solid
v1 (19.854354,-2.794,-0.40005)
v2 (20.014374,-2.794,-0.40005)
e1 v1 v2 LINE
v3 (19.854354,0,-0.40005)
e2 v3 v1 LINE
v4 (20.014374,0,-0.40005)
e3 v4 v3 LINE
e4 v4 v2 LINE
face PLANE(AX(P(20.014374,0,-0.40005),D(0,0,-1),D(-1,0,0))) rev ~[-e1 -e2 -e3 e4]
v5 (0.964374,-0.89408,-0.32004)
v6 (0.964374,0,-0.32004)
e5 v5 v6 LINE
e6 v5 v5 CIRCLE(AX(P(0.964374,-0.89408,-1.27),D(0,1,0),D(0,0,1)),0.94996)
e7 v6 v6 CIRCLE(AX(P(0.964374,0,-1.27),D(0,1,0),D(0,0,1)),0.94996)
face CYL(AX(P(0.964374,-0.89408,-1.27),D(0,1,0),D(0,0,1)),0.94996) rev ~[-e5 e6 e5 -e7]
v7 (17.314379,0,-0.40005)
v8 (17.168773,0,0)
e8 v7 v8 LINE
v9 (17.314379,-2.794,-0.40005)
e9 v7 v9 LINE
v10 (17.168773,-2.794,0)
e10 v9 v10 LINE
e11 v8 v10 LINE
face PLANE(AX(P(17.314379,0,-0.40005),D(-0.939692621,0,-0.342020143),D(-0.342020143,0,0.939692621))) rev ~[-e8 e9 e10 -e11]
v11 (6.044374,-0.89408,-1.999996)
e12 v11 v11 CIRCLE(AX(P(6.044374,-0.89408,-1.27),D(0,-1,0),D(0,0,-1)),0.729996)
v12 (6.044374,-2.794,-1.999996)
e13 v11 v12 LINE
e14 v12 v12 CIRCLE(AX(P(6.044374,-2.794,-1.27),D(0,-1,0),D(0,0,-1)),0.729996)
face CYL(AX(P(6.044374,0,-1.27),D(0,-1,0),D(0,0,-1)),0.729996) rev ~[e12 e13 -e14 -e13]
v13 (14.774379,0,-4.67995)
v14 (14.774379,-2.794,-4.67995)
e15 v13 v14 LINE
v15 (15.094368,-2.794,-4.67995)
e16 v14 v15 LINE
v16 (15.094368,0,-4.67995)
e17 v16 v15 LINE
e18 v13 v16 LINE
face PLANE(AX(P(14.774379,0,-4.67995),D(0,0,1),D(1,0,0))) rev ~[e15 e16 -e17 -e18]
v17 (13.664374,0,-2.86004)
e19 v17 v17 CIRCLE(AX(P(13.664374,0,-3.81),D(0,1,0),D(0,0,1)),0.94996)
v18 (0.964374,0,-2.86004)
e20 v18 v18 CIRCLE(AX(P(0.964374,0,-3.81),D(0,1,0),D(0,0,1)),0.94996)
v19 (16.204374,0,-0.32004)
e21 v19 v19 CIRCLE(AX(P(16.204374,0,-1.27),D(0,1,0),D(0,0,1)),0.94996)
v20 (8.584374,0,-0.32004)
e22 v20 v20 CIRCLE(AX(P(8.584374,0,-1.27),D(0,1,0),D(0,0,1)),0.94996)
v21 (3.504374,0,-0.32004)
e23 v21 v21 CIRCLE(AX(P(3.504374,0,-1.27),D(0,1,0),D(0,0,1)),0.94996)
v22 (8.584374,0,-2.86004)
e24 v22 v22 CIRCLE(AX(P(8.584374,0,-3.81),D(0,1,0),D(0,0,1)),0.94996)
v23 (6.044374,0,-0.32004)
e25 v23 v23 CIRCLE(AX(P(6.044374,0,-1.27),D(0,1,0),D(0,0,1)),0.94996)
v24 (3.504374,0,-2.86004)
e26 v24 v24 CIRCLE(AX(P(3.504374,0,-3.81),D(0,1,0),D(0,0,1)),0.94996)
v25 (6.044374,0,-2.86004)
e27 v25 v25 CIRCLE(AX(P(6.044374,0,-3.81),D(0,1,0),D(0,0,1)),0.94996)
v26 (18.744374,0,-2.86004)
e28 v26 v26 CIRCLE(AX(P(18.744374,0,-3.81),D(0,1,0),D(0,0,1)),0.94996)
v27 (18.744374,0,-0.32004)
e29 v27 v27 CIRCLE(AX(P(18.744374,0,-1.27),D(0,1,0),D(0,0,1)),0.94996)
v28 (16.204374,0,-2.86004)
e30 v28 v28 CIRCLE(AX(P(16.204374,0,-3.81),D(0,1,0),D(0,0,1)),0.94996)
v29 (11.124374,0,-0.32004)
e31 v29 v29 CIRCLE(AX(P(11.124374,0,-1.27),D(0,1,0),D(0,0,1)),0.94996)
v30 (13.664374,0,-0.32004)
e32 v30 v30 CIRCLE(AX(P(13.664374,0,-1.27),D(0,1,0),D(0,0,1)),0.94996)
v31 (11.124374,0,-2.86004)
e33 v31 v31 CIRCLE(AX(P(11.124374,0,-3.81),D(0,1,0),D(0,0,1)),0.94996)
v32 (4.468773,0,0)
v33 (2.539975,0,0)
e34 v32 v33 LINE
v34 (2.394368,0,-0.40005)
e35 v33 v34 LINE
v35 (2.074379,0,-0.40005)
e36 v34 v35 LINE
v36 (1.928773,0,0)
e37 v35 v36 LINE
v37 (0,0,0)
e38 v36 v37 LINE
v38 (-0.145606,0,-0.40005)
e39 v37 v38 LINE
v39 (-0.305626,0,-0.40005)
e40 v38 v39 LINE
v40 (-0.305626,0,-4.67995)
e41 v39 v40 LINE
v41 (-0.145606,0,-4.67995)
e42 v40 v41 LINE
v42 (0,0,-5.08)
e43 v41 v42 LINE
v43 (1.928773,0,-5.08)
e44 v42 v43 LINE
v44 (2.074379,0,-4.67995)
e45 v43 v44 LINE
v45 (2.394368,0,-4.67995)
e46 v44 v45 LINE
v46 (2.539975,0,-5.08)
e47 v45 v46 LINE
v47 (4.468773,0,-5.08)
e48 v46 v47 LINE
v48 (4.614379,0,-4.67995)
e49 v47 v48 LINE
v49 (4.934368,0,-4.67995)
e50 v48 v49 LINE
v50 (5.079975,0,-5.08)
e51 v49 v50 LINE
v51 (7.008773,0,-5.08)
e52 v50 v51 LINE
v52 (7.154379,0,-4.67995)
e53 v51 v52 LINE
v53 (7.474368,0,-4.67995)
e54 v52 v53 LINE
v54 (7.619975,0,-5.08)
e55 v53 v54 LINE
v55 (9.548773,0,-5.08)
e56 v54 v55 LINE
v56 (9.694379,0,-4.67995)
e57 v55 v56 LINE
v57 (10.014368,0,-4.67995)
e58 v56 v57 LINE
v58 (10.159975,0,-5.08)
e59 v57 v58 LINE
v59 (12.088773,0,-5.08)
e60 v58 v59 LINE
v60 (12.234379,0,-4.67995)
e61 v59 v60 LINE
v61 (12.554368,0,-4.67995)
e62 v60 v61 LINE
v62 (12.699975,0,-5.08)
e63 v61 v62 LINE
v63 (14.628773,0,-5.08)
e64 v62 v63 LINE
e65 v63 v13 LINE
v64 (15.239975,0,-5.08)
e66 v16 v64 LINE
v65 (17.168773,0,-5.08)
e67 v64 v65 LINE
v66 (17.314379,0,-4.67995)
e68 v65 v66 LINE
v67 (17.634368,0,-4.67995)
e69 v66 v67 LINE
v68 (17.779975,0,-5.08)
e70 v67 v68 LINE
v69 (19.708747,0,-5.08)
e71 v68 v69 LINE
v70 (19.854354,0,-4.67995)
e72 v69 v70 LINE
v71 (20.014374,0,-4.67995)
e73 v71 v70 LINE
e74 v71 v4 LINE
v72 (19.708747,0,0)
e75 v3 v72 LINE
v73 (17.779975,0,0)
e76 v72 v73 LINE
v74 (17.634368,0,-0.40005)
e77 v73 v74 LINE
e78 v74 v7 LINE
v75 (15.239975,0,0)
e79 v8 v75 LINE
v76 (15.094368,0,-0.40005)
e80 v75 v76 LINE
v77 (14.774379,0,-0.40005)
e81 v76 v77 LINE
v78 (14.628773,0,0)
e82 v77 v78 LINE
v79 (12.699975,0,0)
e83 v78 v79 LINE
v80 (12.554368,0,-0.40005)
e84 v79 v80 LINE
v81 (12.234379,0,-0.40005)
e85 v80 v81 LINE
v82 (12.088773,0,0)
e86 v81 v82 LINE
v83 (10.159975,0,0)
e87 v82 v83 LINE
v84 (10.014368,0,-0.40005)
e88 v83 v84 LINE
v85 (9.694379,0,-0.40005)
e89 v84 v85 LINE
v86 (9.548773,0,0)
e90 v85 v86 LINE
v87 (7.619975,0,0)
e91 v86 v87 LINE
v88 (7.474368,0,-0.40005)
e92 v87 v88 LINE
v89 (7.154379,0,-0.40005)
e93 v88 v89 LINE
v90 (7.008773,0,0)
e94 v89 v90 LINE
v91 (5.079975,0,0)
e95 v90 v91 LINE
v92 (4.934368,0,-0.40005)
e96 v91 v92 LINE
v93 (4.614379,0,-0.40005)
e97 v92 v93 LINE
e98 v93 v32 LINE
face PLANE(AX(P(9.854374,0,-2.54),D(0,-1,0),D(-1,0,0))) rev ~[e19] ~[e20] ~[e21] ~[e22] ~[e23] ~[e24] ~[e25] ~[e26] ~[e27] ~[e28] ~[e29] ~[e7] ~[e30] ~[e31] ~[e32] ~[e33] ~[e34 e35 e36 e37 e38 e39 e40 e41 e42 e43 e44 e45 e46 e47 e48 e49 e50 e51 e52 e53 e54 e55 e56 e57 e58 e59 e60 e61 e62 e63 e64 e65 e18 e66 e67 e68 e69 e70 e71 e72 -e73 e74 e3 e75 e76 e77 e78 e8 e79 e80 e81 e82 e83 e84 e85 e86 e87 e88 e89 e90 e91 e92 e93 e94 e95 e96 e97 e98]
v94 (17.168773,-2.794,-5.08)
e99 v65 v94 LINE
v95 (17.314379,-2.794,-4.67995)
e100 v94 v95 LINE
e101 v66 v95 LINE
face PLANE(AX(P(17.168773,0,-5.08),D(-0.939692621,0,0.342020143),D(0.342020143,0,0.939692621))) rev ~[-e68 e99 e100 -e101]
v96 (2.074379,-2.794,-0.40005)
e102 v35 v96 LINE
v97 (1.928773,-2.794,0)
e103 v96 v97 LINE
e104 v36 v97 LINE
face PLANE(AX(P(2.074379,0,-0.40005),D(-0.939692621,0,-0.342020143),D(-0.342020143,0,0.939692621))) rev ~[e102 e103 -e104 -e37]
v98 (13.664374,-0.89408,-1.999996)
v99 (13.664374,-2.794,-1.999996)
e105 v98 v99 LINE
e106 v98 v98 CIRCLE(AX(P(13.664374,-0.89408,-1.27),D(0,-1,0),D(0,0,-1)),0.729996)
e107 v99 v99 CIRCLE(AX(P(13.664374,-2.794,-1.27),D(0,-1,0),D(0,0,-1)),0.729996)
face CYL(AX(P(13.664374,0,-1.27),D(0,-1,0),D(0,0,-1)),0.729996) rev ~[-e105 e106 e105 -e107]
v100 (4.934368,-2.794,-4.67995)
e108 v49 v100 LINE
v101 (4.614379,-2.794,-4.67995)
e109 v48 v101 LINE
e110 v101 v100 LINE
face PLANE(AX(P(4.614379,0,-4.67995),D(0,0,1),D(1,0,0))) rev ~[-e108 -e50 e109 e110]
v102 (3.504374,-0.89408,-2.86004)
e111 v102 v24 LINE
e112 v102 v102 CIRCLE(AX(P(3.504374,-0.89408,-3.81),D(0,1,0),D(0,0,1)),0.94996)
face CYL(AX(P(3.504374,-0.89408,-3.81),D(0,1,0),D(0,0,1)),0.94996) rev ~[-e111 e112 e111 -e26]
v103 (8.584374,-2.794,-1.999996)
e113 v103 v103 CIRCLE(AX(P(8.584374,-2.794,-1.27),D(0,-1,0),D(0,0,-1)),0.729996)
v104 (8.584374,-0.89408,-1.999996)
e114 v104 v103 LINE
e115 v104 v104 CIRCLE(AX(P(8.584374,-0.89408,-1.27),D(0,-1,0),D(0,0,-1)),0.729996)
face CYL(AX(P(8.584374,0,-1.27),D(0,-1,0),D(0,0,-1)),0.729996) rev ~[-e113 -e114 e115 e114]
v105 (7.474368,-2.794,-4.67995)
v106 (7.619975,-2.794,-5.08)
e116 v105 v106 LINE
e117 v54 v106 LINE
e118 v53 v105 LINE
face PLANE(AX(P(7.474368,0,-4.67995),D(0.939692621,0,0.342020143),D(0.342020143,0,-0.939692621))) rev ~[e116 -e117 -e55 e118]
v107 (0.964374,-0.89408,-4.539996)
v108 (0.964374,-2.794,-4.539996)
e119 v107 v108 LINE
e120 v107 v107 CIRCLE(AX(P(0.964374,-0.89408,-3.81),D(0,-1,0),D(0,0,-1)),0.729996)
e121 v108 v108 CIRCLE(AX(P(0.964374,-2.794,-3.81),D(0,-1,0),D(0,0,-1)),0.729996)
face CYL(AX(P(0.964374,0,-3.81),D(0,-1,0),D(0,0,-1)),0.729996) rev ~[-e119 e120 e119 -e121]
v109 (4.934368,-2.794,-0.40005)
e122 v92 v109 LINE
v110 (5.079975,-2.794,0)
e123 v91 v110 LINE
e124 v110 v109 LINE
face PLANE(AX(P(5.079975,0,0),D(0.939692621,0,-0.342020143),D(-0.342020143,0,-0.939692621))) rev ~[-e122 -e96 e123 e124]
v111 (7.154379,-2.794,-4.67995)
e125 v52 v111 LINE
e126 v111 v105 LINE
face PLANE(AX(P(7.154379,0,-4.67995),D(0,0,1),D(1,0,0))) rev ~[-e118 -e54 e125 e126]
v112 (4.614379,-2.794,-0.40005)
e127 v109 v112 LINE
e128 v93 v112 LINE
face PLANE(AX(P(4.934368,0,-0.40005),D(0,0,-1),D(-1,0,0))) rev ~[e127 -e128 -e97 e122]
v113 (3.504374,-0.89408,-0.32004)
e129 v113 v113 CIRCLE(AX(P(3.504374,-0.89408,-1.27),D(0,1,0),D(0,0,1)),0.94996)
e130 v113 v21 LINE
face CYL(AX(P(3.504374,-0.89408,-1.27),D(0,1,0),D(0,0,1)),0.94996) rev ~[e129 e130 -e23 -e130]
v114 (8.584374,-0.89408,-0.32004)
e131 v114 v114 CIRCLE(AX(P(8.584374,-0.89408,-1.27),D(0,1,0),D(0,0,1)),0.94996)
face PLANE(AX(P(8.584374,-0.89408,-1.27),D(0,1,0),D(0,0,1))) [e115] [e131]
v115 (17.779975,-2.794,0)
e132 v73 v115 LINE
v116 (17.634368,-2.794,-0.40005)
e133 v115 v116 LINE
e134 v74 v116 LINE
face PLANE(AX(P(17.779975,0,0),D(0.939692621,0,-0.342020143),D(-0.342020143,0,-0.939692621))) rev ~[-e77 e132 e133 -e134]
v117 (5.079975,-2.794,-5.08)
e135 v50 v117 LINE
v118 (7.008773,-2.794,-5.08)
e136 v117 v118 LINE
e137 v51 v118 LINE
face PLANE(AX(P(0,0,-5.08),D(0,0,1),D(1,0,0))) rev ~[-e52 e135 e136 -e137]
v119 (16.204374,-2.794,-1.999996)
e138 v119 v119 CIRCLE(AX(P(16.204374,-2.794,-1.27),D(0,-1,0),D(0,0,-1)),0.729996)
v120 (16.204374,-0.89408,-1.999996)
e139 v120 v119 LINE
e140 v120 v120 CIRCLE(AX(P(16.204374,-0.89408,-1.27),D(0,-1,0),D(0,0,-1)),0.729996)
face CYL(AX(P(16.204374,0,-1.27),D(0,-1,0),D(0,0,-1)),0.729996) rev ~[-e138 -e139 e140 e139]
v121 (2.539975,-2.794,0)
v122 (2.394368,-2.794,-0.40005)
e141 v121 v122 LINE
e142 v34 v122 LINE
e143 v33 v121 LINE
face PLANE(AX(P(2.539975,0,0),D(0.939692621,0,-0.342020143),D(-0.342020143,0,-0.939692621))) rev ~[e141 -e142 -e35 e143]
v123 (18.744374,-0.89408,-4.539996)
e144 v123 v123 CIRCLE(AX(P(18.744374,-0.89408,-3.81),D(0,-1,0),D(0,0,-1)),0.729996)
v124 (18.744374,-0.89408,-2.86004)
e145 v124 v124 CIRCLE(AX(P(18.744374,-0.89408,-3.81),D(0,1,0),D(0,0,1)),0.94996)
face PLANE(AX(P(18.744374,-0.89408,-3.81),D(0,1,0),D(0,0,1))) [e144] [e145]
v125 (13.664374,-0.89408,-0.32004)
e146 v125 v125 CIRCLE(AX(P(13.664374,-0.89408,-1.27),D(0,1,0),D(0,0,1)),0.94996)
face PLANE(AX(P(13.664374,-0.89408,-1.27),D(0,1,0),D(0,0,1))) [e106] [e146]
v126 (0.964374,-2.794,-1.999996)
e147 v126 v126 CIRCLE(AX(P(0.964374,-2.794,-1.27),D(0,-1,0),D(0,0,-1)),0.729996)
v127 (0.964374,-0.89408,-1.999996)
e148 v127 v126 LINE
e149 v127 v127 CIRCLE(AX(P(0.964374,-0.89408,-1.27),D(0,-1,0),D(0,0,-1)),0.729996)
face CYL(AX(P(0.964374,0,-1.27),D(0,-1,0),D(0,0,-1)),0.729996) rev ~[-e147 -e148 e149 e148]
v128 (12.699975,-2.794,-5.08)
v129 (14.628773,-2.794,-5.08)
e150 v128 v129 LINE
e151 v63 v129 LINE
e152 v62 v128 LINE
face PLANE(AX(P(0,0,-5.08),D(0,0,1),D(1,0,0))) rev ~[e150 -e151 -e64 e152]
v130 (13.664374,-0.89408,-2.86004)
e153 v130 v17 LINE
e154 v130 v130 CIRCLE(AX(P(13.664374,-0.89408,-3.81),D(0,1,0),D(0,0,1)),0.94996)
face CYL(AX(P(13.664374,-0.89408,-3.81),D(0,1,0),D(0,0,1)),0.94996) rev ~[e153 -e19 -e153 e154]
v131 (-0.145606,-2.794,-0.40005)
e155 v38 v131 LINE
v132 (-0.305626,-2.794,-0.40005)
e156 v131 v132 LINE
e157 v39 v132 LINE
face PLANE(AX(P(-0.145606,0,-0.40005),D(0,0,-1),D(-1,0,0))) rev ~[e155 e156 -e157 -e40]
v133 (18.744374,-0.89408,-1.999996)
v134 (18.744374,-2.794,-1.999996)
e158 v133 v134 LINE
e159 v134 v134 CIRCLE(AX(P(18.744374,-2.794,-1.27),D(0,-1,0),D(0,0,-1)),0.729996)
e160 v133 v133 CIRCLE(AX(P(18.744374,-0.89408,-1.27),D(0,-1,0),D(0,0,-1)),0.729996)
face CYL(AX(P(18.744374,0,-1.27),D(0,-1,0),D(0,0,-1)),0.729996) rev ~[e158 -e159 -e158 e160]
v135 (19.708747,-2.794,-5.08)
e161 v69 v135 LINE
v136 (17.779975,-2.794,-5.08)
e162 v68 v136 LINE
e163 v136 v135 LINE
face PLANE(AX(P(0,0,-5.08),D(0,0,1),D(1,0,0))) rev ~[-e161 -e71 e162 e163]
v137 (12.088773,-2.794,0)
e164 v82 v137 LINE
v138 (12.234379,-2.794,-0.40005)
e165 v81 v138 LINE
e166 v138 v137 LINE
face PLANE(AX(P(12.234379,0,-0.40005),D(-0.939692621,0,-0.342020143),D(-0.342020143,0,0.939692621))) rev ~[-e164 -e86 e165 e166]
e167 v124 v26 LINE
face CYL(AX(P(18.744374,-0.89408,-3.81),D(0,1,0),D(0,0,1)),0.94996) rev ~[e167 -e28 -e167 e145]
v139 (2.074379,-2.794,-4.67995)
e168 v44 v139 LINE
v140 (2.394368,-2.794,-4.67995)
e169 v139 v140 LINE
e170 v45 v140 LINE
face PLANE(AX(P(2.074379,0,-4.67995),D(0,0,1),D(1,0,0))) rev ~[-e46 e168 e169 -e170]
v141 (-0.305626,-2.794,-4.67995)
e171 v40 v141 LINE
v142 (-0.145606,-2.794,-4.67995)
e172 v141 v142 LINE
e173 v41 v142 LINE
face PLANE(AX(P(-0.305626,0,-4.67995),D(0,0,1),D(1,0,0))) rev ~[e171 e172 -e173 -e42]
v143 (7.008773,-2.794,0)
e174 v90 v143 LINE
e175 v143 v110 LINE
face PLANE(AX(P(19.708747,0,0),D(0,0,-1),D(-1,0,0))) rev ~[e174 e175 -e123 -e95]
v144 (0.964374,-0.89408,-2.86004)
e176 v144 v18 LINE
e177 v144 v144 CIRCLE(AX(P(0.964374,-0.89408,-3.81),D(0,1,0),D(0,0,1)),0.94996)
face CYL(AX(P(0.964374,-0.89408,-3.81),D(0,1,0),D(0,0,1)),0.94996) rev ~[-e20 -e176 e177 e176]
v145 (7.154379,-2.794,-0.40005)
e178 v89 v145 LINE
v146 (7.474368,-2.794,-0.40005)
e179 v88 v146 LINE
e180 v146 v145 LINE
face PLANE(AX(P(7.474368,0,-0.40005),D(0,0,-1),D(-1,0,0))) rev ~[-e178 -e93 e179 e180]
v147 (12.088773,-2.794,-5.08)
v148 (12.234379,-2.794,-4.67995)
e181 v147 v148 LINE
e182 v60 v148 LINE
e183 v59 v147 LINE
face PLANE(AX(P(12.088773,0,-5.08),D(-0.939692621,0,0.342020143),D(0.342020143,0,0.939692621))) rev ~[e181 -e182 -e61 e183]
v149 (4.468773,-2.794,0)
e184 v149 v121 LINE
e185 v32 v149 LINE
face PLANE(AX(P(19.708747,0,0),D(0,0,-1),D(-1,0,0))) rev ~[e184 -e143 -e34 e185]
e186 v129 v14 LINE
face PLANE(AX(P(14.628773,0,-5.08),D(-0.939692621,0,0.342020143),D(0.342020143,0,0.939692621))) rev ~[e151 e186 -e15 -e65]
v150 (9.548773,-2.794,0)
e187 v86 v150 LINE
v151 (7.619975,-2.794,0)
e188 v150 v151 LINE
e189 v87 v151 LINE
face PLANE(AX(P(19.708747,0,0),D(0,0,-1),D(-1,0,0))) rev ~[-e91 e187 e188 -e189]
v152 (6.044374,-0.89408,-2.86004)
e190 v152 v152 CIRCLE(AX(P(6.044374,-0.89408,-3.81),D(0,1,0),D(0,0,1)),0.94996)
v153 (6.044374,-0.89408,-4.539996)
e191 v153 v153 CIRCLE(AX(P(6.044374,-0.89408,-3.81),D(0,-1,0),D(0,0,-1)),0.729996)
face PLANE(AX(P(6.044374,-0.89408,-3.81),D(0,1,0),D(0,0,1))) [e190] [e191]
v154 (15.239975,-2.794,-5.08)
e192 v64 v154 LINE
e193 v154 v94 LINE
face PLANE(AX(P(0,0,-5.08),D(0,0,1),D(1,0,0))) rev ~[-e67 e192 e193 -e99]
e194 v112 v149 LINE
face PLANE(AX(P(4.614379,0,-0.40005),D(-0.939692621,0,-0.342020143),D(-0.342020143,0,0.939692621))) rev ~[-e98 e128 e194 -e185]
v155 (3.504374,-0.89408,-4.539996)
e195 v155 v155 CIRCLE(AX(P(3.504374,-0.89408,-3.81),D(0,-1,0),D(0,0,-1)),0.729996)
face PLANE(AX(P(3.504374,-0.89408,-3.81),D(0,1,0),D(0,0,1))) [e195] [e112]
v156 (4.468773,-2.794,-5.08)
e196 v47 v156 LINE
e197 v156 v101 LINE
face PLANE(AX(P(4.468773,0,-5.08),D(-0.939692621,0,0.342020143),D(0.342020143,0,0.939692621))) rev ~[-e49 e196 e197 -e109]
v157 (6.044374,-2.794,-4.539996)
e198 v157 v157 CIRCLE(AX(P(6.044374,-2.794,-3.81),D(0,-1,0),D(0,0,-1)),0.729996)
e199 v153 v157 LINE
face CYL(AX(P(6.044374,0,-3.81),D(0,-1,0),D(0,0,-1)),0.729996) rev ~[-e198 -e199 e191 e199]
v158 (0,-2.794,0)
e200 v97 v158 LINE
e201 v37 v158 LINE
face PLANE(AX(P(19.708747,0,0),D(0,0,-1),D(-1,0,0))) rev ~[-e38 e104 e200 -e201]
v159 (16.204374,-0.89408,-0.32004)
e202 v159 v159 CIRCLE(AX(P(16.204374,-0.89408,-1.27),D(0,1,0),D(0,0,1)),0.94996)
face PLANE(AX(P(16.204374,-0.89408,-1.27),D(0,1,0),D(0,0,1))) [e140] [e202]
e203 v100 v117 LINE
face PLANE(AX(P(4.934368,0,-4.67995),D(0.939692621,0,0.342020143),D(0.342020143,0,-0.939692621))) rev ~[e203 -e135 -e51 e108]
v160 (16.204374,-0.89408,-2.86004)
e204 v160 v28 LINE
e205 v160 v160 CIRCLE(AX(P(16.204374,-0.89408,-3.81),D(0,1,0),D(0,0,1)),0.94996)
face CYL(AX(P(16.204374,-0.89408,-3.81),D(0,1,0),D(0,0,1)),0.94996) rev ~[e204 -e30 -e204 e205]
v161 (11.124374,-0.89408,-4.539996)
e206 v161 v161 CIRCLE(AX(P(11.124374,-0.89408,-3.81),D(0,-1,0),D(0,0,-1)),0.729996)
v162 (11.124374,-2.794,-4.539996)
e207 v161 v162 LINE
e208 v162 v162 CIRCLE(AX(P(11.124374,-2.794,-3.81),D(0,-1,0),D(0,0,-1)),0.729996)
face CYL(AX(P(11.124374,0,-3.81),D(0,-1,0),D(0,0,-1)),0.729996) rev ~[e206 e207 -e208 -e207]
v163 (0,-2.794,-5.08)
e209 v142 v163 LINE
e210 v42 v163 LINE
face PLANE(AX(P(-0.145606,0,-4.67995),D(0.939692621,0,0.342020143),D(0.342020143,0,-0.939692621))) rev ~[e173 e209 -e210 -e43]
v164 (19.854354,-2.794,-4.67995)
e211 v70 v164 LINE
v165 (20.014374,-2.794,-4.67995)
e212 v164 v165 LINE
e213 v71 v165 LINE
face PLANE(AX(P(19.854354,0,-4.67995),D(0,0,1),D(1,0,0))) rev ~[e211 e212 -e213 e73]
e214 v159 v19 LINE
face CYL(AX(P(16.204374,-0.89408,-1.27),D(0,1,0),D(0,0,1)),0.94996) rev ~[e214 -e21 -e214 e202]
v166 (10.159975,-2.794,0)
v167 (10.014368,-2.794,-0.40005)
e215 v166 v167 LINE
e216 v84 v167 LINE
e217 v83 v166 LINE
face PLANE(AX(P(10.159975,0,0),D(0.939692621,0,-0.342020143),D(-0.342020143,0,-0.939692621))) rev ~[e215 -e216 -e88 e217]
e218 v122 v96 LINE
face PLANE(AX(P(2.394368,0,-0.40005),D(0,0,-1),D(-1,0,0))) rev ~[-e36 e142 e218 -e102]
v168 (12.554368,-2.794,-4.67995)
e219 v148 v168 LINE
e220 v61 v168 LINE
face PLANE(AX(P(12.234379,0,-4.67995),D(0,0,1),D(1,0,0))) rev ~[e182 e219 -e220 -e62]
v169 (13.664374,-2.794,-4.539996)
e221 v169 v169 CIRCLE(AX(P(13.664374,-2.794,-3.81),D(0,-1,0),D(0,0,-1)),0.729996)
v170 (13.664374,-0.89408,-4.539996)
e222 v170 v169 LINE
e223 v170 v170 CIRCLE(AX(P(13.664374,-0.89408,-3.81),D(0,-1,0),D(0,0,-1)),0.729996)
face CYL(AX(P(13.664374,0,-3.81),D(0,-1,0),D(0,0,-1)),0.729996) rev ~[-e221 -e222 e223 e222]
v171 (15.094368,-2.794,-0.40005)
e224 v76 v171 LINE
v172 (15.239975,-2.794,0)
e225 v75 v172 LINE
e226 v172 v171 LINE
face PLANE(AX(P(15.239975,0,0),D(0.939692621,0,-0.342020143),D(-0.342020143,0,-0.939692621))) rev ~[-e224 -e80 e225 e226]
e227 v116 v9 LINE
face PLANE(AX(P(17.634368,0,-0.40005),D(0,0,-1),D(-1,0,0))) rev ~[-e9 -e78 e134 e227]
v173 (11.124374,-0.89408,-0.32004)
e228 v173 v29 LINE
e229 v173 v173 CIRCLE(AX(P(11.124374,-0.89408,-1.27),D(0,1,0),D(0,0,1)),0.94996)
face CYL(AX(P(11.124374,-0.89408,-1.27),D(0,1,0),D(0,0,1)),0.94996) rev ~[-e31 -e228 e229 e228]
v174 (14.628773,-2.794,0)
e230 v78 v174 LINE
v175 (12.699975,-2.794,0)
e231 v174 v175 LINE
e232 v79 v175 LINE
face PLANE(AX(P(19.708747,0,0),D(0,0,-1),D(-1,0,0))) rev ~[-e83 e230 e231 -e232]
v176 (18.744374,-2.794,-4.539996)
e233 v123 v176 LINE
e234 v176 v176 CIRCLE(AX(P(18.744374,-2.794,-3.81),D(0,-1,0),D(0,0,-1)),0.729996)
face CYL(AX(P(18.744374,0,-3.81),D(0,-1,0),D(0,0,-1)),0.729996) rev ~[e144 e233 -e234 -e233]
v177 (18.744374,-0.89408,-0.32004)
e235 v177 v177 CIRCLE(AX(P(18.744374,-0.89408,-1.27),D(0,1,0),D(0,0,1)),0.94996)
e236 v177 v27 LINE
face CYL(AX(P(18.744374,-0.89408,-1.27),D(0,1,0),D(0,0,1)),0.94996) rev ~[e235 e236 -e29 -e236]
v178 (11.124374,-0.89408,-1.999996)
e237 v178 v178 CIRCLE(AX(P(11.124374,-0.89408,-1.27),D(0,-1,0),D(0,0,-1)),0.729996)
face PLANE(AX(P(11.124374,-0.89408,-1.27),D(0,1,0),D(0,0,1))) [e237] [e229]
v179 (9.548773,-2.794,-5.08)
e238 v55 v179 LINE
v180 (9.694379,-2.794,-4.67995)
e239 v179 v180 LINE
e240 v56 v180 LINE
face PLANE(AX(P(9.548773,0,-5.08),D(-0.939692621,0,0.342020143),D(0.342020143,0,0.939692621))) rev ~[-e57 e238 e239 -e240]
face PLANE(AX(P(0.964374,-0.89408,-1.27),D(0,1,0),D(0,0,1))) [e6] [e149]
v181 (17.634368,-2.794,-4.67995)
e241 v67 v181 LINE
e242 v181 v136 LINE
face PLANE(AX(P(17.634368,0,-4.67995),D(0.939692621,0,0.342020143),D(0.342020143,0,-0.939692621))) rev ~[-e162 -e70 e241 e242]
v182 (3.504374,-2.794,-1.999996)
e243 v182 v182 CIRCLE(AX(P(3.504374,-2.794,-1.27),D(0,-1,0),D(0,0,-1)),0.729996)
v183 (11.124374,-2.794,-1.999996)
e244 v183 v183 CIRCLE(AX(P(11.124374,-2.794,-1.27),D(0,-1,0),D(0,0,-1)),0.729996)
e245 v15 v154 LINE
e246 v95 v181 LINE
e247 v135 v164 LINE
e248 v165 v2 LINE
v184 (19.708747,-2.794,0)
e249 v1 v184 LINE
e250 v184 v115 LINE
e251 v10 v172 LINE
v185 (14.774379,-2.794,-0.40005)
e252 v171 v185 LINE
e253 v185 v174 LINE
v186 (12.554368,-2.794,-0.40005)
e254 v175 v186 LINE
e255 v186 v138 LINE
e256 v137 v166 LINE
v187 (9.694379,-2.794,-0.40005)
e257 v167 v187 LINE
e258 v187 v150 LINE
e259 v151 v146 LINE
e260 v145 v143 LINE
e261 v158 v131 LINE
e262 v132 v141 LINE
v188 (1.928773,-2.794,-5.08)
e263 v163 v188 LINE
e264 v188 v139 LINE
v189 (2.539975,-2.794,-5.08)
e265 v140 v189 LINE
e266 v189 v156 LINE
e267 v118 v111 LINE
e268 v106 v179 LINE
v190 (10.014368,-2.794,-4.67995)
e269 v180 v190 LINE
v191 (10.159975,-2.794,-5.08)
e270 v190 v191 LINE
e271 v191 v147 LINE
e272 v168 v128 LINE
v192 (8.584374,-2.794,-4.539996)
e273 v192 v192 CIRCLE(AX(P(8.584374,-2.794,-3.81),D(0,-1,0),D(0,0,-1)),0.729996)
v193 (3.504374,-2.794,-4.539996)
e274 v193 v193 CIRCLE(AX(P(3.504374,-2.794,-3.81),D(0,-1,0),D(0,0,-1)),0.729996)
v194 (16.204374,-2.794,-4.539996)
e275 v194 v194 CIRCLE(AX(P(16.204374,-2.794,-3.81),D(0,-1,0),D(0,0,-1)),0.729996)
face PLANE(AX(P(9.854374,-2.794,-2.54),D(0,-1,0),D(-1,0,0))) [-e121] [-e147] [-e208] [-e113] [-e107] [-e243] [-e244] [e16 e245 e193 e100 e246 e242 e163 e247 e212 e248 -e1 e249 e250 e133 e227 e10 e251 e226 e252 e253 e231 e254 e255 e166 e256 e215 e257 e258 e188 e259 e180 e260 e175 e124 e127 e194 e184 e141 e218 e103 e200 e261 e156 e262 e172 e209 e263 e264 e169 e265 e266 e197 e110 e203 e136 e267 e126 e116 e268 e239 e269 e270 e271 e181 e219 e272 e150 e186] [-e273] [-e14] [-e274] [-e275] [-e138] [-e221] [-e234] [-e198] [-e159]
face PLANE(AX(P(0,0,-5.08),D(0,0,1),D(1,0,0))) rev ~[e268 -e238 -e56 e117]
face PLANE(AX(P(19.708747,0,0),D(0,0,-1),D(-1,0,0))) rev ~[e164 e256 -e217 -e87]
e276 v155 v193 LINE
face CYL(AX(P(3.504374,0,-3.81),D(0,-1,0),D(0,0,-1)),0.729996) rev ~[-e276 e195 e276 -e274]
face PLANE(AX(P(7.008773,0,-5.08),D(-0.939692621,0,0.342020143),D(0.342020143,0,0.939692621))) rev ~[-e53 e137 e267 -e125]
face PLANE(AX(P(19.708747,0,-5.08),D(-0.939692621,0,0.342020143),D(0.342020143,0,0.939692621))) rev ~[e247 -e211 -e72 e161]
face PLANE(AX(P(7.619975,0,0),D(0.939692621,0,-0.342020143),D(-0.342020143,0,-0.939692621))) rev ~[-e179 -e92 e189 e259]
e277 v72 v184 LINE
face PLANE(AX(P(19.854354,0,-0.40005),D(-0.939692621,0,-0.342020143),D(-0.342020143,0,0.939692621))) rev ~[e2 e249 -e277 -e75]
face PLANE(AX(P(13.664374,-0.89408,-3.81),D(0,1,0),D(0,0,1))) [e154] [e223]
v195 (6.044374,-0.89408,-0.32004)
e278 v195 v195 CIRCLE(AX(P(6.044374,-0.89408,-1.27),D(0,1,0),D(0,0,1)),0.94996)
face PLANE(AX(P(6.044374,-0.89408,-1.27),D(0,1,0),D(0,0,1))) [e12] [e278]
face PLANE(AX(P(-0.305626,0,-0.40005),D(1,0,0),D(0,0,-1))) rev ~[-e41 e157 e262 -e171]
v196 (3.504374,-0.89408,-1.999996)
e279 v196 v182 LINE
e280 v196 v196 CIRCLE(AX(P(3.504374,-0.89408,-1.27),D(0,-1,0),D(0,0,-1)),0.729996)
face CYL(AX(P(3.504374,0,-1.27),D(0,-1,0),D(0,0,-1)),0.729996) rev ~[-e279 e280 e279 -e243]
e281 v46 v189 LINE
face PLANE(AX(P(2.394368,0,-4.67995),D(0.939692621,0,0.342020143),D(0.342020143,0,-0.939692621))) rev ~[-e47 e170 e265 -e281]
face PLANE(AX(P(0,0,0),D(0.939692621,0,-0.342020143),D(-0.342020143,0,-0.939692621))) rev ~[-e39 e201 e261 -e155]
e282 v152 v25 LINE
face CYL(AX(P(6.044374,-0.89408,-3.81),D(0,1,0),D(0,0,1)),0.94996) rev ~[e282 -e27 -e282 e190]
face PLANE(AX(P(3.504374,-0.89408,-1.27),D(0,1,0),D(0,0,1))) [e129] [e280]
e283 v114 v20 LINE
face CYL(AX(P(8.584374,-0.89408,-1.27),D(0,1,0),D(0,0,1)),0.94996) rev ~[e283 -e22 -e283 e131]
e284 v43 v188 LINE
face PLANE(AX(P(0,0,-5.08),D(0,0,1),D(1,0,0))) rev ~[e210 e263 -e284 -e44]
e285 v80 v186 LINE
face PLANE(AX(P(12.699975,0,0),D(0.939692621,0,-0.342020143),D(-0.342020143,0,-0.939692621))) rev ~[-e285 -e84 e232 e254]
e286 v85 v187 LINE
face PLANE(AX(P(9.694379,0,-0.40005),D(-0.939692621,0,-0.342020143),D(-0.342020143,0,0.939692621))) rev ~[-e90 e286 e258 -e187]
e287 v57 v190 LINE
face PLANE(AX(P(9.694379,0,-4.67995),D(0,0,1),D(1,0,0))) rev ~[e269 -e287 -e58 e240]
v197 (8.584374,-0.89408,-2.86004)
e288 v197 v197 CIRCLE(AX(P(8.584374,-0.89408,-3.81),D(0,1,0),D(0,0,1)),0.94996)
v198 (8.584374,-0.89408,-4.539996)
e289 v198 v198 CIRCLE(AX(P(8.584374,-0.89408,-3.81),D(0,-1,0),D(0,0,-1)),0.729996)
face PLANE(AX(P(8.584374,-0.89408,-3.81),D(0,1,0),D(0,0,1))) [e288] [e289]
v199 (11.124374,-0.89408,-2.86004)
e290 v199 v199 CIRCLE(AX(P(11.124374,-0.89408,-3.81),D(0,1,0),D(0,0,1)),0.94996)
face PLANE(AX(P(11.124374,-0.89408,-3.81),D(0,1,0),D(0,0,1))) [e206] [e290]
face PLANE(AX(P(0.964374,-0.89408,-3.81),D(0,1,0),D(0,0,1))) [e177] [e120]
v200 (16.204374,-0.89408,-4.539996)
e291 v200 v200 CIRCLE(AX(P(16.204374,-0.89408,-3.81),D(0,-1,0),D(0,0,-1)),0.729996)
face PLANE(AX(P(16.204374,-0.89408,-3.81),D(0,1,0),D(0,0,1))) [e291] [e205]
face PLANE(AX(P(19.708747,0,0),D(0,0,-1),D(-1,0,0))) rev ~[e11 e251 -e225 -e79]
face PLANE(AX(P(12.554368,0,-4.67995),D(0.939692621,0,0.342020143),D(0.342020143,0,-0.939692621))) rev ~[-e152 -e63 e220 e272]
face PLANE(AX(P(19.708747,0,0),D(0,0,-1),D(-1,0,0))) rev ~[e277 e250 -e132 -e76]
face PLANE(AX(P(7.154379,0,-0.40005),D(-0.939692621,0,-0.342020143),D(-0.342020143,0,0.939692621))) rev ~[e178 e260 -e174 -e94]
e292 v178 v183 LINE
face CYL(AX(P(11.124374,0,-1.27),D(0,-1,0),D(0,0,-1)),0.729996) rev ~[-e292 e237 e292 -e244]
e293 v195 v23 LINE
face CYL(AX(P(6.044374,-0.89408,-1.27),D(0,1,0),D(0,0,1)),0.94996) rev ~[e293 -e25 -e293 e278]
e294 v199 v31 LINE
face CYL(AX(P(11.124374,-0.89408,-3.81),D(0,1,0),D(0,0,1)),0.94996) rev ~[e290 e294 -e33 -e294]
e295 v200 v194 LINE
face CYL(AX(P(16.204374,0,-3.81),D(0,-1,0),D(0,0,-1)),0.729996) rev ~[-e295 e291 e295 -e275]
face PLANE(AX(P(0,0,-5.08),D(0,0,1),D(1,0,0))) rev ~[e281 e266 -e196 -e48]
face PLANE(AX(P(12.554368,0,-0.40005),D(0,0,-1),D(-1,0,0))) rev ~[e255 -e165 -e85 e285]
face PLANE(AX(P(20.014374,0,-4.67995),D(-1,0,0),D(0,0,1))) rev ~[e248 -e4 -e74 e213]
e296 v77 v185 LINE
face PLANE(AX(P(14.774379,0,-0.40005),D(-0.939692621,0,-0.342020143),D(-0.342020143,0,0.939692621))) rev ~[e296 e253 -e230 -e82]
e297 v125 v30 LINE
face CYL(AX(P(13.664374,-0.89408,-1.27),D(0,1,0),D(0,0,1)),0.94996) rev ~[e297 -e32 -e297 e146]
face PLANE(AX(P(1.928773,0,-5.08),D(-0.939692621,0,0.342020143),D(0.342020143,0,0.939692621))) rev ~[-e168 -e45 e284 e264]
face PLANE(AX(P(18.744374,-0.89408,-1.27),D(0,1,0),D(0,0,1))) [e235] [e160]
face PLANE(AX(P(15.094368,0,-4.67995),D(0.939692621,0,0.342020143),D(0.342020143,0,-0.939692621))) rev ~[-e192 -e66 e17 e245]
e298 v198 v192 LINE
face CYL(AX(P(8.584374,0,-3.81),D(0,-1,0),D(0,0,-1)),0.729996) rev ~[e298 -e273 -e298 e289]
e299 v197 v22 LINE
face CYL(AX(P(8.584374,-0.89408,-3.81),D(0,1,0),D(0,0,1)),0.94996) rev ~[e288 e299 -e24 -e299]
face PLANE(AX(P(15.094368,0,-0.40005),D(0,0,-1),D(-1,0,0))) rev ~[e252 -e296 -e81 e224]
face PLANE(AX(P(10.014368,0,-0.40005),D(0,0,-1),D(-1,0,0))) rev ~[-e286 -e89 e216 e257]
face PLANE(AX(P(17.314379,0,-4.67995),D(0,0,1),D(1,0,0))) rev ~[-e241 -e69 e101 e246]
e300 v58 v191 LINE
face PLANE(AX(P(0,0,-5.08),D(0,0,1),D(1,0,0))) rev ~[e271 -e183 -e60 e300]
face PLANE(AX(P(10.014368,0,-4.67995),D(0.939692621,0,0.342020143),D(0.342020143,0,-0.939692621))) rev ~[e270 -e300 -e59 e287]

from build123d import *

# Parameters (mm, degrees)
EXTRUDE1_DEPTH          = 2.794
HOLE1_D                 = 1.459992
HOLE1_CBORE_D           = 1.89992
HOLE1_CBORE_DEPTH       = 0.89408
EXTRUDE2_DEPTH          = 2.794
HOLE_PATTERN_COUNT      = 32
HOLE_PATTERN_PITCH      = 2.54
HOLE_PATTERN_COUNT_DIR2 = 2
HOLE_PATTERN_PITCH_DIR2 = 2.54
SLOT_PATTERN_COUNT      = 31
SLOT_PATTERN_PITCH      = 2.54


with BuildPart() as part:
    # Sketch1 → Extrude1 (new body)
    with BuildSketch(Plane(origin=(0, 0, 0), x_dir=(1, 0, 0), z_dir=(0, 1, 0))):
        Polygon((20.014373708, 0.40005), (19.854353708, 0.40005), (19.708747416, 0), (0, 0), (-0.145606292, 0.40005), (-0.305626292, 0.40005), (-0.305626292, 4.67995), (-0.145606292, 4.67995), (0, 5.08), (19.708747416, 5.08), (19.854353708, 4.67995), (20.014373708, 4.67995), align=None)
    extrude(amount=-EXTRUDE1_DEPTH)

    # Hole1 (through all)
    with Locations(Plane(origin=(0.964373708, 0, -1.27), x_dir=(0, 0, 1), z_dir=(0, 1, 0))):
        with Locations((0, 0)):
            hole1 = CounterBoreHole(HOLE1_D / 2, HOLE1_CBORE_D / 2, HOLE1_CBORE_DEPTH)

    # Sketch4 → Extrude2 (cut)
    with BuildSketch(Plane(origin=(0, 0, 0), x_dir=(1, 0, 0), z_dir=(0, 1, 0))):
        Polygon((1.928772816, 0), (2.5399746, 0), (2.394368308, 0.40005), (2.074379108, 0.40005), align=None)
        Polygon((2.074379108, 4.67995), (2.394368308, 4.67995), (2.5399746, 5.08), (1.928772816, 5.08), align=None)
    extrude2 = extrude(amount=-EXTRUDE2_DEPTH, mode=Mode.SUBTRACT)

    # Hole Pattern: Hole1 32 × 2
    with Locations(*[(i * HOLE_PATTERN_PITCH, 0, -j * HOLE_PATTERN_PITCH_DIR2) for i in range(HOLE_PATTERN_COUNT) for j in range(HOLE_PATTERN_COUNT_DIR2) if (i, j) != (0, 0)]):
        add(hole1, mode=Mode.SUBTRACT)

    # Slot Pattern: Extrude2 ×31
    with Locations(*[(i * SLOT_PATTERN_PITCH, 0, 0) for i in range(1, SLOT_PATTERN_COUNT)]):
        add(extrude2, mode=Mode.SUBTRACT)


solid = part.part
